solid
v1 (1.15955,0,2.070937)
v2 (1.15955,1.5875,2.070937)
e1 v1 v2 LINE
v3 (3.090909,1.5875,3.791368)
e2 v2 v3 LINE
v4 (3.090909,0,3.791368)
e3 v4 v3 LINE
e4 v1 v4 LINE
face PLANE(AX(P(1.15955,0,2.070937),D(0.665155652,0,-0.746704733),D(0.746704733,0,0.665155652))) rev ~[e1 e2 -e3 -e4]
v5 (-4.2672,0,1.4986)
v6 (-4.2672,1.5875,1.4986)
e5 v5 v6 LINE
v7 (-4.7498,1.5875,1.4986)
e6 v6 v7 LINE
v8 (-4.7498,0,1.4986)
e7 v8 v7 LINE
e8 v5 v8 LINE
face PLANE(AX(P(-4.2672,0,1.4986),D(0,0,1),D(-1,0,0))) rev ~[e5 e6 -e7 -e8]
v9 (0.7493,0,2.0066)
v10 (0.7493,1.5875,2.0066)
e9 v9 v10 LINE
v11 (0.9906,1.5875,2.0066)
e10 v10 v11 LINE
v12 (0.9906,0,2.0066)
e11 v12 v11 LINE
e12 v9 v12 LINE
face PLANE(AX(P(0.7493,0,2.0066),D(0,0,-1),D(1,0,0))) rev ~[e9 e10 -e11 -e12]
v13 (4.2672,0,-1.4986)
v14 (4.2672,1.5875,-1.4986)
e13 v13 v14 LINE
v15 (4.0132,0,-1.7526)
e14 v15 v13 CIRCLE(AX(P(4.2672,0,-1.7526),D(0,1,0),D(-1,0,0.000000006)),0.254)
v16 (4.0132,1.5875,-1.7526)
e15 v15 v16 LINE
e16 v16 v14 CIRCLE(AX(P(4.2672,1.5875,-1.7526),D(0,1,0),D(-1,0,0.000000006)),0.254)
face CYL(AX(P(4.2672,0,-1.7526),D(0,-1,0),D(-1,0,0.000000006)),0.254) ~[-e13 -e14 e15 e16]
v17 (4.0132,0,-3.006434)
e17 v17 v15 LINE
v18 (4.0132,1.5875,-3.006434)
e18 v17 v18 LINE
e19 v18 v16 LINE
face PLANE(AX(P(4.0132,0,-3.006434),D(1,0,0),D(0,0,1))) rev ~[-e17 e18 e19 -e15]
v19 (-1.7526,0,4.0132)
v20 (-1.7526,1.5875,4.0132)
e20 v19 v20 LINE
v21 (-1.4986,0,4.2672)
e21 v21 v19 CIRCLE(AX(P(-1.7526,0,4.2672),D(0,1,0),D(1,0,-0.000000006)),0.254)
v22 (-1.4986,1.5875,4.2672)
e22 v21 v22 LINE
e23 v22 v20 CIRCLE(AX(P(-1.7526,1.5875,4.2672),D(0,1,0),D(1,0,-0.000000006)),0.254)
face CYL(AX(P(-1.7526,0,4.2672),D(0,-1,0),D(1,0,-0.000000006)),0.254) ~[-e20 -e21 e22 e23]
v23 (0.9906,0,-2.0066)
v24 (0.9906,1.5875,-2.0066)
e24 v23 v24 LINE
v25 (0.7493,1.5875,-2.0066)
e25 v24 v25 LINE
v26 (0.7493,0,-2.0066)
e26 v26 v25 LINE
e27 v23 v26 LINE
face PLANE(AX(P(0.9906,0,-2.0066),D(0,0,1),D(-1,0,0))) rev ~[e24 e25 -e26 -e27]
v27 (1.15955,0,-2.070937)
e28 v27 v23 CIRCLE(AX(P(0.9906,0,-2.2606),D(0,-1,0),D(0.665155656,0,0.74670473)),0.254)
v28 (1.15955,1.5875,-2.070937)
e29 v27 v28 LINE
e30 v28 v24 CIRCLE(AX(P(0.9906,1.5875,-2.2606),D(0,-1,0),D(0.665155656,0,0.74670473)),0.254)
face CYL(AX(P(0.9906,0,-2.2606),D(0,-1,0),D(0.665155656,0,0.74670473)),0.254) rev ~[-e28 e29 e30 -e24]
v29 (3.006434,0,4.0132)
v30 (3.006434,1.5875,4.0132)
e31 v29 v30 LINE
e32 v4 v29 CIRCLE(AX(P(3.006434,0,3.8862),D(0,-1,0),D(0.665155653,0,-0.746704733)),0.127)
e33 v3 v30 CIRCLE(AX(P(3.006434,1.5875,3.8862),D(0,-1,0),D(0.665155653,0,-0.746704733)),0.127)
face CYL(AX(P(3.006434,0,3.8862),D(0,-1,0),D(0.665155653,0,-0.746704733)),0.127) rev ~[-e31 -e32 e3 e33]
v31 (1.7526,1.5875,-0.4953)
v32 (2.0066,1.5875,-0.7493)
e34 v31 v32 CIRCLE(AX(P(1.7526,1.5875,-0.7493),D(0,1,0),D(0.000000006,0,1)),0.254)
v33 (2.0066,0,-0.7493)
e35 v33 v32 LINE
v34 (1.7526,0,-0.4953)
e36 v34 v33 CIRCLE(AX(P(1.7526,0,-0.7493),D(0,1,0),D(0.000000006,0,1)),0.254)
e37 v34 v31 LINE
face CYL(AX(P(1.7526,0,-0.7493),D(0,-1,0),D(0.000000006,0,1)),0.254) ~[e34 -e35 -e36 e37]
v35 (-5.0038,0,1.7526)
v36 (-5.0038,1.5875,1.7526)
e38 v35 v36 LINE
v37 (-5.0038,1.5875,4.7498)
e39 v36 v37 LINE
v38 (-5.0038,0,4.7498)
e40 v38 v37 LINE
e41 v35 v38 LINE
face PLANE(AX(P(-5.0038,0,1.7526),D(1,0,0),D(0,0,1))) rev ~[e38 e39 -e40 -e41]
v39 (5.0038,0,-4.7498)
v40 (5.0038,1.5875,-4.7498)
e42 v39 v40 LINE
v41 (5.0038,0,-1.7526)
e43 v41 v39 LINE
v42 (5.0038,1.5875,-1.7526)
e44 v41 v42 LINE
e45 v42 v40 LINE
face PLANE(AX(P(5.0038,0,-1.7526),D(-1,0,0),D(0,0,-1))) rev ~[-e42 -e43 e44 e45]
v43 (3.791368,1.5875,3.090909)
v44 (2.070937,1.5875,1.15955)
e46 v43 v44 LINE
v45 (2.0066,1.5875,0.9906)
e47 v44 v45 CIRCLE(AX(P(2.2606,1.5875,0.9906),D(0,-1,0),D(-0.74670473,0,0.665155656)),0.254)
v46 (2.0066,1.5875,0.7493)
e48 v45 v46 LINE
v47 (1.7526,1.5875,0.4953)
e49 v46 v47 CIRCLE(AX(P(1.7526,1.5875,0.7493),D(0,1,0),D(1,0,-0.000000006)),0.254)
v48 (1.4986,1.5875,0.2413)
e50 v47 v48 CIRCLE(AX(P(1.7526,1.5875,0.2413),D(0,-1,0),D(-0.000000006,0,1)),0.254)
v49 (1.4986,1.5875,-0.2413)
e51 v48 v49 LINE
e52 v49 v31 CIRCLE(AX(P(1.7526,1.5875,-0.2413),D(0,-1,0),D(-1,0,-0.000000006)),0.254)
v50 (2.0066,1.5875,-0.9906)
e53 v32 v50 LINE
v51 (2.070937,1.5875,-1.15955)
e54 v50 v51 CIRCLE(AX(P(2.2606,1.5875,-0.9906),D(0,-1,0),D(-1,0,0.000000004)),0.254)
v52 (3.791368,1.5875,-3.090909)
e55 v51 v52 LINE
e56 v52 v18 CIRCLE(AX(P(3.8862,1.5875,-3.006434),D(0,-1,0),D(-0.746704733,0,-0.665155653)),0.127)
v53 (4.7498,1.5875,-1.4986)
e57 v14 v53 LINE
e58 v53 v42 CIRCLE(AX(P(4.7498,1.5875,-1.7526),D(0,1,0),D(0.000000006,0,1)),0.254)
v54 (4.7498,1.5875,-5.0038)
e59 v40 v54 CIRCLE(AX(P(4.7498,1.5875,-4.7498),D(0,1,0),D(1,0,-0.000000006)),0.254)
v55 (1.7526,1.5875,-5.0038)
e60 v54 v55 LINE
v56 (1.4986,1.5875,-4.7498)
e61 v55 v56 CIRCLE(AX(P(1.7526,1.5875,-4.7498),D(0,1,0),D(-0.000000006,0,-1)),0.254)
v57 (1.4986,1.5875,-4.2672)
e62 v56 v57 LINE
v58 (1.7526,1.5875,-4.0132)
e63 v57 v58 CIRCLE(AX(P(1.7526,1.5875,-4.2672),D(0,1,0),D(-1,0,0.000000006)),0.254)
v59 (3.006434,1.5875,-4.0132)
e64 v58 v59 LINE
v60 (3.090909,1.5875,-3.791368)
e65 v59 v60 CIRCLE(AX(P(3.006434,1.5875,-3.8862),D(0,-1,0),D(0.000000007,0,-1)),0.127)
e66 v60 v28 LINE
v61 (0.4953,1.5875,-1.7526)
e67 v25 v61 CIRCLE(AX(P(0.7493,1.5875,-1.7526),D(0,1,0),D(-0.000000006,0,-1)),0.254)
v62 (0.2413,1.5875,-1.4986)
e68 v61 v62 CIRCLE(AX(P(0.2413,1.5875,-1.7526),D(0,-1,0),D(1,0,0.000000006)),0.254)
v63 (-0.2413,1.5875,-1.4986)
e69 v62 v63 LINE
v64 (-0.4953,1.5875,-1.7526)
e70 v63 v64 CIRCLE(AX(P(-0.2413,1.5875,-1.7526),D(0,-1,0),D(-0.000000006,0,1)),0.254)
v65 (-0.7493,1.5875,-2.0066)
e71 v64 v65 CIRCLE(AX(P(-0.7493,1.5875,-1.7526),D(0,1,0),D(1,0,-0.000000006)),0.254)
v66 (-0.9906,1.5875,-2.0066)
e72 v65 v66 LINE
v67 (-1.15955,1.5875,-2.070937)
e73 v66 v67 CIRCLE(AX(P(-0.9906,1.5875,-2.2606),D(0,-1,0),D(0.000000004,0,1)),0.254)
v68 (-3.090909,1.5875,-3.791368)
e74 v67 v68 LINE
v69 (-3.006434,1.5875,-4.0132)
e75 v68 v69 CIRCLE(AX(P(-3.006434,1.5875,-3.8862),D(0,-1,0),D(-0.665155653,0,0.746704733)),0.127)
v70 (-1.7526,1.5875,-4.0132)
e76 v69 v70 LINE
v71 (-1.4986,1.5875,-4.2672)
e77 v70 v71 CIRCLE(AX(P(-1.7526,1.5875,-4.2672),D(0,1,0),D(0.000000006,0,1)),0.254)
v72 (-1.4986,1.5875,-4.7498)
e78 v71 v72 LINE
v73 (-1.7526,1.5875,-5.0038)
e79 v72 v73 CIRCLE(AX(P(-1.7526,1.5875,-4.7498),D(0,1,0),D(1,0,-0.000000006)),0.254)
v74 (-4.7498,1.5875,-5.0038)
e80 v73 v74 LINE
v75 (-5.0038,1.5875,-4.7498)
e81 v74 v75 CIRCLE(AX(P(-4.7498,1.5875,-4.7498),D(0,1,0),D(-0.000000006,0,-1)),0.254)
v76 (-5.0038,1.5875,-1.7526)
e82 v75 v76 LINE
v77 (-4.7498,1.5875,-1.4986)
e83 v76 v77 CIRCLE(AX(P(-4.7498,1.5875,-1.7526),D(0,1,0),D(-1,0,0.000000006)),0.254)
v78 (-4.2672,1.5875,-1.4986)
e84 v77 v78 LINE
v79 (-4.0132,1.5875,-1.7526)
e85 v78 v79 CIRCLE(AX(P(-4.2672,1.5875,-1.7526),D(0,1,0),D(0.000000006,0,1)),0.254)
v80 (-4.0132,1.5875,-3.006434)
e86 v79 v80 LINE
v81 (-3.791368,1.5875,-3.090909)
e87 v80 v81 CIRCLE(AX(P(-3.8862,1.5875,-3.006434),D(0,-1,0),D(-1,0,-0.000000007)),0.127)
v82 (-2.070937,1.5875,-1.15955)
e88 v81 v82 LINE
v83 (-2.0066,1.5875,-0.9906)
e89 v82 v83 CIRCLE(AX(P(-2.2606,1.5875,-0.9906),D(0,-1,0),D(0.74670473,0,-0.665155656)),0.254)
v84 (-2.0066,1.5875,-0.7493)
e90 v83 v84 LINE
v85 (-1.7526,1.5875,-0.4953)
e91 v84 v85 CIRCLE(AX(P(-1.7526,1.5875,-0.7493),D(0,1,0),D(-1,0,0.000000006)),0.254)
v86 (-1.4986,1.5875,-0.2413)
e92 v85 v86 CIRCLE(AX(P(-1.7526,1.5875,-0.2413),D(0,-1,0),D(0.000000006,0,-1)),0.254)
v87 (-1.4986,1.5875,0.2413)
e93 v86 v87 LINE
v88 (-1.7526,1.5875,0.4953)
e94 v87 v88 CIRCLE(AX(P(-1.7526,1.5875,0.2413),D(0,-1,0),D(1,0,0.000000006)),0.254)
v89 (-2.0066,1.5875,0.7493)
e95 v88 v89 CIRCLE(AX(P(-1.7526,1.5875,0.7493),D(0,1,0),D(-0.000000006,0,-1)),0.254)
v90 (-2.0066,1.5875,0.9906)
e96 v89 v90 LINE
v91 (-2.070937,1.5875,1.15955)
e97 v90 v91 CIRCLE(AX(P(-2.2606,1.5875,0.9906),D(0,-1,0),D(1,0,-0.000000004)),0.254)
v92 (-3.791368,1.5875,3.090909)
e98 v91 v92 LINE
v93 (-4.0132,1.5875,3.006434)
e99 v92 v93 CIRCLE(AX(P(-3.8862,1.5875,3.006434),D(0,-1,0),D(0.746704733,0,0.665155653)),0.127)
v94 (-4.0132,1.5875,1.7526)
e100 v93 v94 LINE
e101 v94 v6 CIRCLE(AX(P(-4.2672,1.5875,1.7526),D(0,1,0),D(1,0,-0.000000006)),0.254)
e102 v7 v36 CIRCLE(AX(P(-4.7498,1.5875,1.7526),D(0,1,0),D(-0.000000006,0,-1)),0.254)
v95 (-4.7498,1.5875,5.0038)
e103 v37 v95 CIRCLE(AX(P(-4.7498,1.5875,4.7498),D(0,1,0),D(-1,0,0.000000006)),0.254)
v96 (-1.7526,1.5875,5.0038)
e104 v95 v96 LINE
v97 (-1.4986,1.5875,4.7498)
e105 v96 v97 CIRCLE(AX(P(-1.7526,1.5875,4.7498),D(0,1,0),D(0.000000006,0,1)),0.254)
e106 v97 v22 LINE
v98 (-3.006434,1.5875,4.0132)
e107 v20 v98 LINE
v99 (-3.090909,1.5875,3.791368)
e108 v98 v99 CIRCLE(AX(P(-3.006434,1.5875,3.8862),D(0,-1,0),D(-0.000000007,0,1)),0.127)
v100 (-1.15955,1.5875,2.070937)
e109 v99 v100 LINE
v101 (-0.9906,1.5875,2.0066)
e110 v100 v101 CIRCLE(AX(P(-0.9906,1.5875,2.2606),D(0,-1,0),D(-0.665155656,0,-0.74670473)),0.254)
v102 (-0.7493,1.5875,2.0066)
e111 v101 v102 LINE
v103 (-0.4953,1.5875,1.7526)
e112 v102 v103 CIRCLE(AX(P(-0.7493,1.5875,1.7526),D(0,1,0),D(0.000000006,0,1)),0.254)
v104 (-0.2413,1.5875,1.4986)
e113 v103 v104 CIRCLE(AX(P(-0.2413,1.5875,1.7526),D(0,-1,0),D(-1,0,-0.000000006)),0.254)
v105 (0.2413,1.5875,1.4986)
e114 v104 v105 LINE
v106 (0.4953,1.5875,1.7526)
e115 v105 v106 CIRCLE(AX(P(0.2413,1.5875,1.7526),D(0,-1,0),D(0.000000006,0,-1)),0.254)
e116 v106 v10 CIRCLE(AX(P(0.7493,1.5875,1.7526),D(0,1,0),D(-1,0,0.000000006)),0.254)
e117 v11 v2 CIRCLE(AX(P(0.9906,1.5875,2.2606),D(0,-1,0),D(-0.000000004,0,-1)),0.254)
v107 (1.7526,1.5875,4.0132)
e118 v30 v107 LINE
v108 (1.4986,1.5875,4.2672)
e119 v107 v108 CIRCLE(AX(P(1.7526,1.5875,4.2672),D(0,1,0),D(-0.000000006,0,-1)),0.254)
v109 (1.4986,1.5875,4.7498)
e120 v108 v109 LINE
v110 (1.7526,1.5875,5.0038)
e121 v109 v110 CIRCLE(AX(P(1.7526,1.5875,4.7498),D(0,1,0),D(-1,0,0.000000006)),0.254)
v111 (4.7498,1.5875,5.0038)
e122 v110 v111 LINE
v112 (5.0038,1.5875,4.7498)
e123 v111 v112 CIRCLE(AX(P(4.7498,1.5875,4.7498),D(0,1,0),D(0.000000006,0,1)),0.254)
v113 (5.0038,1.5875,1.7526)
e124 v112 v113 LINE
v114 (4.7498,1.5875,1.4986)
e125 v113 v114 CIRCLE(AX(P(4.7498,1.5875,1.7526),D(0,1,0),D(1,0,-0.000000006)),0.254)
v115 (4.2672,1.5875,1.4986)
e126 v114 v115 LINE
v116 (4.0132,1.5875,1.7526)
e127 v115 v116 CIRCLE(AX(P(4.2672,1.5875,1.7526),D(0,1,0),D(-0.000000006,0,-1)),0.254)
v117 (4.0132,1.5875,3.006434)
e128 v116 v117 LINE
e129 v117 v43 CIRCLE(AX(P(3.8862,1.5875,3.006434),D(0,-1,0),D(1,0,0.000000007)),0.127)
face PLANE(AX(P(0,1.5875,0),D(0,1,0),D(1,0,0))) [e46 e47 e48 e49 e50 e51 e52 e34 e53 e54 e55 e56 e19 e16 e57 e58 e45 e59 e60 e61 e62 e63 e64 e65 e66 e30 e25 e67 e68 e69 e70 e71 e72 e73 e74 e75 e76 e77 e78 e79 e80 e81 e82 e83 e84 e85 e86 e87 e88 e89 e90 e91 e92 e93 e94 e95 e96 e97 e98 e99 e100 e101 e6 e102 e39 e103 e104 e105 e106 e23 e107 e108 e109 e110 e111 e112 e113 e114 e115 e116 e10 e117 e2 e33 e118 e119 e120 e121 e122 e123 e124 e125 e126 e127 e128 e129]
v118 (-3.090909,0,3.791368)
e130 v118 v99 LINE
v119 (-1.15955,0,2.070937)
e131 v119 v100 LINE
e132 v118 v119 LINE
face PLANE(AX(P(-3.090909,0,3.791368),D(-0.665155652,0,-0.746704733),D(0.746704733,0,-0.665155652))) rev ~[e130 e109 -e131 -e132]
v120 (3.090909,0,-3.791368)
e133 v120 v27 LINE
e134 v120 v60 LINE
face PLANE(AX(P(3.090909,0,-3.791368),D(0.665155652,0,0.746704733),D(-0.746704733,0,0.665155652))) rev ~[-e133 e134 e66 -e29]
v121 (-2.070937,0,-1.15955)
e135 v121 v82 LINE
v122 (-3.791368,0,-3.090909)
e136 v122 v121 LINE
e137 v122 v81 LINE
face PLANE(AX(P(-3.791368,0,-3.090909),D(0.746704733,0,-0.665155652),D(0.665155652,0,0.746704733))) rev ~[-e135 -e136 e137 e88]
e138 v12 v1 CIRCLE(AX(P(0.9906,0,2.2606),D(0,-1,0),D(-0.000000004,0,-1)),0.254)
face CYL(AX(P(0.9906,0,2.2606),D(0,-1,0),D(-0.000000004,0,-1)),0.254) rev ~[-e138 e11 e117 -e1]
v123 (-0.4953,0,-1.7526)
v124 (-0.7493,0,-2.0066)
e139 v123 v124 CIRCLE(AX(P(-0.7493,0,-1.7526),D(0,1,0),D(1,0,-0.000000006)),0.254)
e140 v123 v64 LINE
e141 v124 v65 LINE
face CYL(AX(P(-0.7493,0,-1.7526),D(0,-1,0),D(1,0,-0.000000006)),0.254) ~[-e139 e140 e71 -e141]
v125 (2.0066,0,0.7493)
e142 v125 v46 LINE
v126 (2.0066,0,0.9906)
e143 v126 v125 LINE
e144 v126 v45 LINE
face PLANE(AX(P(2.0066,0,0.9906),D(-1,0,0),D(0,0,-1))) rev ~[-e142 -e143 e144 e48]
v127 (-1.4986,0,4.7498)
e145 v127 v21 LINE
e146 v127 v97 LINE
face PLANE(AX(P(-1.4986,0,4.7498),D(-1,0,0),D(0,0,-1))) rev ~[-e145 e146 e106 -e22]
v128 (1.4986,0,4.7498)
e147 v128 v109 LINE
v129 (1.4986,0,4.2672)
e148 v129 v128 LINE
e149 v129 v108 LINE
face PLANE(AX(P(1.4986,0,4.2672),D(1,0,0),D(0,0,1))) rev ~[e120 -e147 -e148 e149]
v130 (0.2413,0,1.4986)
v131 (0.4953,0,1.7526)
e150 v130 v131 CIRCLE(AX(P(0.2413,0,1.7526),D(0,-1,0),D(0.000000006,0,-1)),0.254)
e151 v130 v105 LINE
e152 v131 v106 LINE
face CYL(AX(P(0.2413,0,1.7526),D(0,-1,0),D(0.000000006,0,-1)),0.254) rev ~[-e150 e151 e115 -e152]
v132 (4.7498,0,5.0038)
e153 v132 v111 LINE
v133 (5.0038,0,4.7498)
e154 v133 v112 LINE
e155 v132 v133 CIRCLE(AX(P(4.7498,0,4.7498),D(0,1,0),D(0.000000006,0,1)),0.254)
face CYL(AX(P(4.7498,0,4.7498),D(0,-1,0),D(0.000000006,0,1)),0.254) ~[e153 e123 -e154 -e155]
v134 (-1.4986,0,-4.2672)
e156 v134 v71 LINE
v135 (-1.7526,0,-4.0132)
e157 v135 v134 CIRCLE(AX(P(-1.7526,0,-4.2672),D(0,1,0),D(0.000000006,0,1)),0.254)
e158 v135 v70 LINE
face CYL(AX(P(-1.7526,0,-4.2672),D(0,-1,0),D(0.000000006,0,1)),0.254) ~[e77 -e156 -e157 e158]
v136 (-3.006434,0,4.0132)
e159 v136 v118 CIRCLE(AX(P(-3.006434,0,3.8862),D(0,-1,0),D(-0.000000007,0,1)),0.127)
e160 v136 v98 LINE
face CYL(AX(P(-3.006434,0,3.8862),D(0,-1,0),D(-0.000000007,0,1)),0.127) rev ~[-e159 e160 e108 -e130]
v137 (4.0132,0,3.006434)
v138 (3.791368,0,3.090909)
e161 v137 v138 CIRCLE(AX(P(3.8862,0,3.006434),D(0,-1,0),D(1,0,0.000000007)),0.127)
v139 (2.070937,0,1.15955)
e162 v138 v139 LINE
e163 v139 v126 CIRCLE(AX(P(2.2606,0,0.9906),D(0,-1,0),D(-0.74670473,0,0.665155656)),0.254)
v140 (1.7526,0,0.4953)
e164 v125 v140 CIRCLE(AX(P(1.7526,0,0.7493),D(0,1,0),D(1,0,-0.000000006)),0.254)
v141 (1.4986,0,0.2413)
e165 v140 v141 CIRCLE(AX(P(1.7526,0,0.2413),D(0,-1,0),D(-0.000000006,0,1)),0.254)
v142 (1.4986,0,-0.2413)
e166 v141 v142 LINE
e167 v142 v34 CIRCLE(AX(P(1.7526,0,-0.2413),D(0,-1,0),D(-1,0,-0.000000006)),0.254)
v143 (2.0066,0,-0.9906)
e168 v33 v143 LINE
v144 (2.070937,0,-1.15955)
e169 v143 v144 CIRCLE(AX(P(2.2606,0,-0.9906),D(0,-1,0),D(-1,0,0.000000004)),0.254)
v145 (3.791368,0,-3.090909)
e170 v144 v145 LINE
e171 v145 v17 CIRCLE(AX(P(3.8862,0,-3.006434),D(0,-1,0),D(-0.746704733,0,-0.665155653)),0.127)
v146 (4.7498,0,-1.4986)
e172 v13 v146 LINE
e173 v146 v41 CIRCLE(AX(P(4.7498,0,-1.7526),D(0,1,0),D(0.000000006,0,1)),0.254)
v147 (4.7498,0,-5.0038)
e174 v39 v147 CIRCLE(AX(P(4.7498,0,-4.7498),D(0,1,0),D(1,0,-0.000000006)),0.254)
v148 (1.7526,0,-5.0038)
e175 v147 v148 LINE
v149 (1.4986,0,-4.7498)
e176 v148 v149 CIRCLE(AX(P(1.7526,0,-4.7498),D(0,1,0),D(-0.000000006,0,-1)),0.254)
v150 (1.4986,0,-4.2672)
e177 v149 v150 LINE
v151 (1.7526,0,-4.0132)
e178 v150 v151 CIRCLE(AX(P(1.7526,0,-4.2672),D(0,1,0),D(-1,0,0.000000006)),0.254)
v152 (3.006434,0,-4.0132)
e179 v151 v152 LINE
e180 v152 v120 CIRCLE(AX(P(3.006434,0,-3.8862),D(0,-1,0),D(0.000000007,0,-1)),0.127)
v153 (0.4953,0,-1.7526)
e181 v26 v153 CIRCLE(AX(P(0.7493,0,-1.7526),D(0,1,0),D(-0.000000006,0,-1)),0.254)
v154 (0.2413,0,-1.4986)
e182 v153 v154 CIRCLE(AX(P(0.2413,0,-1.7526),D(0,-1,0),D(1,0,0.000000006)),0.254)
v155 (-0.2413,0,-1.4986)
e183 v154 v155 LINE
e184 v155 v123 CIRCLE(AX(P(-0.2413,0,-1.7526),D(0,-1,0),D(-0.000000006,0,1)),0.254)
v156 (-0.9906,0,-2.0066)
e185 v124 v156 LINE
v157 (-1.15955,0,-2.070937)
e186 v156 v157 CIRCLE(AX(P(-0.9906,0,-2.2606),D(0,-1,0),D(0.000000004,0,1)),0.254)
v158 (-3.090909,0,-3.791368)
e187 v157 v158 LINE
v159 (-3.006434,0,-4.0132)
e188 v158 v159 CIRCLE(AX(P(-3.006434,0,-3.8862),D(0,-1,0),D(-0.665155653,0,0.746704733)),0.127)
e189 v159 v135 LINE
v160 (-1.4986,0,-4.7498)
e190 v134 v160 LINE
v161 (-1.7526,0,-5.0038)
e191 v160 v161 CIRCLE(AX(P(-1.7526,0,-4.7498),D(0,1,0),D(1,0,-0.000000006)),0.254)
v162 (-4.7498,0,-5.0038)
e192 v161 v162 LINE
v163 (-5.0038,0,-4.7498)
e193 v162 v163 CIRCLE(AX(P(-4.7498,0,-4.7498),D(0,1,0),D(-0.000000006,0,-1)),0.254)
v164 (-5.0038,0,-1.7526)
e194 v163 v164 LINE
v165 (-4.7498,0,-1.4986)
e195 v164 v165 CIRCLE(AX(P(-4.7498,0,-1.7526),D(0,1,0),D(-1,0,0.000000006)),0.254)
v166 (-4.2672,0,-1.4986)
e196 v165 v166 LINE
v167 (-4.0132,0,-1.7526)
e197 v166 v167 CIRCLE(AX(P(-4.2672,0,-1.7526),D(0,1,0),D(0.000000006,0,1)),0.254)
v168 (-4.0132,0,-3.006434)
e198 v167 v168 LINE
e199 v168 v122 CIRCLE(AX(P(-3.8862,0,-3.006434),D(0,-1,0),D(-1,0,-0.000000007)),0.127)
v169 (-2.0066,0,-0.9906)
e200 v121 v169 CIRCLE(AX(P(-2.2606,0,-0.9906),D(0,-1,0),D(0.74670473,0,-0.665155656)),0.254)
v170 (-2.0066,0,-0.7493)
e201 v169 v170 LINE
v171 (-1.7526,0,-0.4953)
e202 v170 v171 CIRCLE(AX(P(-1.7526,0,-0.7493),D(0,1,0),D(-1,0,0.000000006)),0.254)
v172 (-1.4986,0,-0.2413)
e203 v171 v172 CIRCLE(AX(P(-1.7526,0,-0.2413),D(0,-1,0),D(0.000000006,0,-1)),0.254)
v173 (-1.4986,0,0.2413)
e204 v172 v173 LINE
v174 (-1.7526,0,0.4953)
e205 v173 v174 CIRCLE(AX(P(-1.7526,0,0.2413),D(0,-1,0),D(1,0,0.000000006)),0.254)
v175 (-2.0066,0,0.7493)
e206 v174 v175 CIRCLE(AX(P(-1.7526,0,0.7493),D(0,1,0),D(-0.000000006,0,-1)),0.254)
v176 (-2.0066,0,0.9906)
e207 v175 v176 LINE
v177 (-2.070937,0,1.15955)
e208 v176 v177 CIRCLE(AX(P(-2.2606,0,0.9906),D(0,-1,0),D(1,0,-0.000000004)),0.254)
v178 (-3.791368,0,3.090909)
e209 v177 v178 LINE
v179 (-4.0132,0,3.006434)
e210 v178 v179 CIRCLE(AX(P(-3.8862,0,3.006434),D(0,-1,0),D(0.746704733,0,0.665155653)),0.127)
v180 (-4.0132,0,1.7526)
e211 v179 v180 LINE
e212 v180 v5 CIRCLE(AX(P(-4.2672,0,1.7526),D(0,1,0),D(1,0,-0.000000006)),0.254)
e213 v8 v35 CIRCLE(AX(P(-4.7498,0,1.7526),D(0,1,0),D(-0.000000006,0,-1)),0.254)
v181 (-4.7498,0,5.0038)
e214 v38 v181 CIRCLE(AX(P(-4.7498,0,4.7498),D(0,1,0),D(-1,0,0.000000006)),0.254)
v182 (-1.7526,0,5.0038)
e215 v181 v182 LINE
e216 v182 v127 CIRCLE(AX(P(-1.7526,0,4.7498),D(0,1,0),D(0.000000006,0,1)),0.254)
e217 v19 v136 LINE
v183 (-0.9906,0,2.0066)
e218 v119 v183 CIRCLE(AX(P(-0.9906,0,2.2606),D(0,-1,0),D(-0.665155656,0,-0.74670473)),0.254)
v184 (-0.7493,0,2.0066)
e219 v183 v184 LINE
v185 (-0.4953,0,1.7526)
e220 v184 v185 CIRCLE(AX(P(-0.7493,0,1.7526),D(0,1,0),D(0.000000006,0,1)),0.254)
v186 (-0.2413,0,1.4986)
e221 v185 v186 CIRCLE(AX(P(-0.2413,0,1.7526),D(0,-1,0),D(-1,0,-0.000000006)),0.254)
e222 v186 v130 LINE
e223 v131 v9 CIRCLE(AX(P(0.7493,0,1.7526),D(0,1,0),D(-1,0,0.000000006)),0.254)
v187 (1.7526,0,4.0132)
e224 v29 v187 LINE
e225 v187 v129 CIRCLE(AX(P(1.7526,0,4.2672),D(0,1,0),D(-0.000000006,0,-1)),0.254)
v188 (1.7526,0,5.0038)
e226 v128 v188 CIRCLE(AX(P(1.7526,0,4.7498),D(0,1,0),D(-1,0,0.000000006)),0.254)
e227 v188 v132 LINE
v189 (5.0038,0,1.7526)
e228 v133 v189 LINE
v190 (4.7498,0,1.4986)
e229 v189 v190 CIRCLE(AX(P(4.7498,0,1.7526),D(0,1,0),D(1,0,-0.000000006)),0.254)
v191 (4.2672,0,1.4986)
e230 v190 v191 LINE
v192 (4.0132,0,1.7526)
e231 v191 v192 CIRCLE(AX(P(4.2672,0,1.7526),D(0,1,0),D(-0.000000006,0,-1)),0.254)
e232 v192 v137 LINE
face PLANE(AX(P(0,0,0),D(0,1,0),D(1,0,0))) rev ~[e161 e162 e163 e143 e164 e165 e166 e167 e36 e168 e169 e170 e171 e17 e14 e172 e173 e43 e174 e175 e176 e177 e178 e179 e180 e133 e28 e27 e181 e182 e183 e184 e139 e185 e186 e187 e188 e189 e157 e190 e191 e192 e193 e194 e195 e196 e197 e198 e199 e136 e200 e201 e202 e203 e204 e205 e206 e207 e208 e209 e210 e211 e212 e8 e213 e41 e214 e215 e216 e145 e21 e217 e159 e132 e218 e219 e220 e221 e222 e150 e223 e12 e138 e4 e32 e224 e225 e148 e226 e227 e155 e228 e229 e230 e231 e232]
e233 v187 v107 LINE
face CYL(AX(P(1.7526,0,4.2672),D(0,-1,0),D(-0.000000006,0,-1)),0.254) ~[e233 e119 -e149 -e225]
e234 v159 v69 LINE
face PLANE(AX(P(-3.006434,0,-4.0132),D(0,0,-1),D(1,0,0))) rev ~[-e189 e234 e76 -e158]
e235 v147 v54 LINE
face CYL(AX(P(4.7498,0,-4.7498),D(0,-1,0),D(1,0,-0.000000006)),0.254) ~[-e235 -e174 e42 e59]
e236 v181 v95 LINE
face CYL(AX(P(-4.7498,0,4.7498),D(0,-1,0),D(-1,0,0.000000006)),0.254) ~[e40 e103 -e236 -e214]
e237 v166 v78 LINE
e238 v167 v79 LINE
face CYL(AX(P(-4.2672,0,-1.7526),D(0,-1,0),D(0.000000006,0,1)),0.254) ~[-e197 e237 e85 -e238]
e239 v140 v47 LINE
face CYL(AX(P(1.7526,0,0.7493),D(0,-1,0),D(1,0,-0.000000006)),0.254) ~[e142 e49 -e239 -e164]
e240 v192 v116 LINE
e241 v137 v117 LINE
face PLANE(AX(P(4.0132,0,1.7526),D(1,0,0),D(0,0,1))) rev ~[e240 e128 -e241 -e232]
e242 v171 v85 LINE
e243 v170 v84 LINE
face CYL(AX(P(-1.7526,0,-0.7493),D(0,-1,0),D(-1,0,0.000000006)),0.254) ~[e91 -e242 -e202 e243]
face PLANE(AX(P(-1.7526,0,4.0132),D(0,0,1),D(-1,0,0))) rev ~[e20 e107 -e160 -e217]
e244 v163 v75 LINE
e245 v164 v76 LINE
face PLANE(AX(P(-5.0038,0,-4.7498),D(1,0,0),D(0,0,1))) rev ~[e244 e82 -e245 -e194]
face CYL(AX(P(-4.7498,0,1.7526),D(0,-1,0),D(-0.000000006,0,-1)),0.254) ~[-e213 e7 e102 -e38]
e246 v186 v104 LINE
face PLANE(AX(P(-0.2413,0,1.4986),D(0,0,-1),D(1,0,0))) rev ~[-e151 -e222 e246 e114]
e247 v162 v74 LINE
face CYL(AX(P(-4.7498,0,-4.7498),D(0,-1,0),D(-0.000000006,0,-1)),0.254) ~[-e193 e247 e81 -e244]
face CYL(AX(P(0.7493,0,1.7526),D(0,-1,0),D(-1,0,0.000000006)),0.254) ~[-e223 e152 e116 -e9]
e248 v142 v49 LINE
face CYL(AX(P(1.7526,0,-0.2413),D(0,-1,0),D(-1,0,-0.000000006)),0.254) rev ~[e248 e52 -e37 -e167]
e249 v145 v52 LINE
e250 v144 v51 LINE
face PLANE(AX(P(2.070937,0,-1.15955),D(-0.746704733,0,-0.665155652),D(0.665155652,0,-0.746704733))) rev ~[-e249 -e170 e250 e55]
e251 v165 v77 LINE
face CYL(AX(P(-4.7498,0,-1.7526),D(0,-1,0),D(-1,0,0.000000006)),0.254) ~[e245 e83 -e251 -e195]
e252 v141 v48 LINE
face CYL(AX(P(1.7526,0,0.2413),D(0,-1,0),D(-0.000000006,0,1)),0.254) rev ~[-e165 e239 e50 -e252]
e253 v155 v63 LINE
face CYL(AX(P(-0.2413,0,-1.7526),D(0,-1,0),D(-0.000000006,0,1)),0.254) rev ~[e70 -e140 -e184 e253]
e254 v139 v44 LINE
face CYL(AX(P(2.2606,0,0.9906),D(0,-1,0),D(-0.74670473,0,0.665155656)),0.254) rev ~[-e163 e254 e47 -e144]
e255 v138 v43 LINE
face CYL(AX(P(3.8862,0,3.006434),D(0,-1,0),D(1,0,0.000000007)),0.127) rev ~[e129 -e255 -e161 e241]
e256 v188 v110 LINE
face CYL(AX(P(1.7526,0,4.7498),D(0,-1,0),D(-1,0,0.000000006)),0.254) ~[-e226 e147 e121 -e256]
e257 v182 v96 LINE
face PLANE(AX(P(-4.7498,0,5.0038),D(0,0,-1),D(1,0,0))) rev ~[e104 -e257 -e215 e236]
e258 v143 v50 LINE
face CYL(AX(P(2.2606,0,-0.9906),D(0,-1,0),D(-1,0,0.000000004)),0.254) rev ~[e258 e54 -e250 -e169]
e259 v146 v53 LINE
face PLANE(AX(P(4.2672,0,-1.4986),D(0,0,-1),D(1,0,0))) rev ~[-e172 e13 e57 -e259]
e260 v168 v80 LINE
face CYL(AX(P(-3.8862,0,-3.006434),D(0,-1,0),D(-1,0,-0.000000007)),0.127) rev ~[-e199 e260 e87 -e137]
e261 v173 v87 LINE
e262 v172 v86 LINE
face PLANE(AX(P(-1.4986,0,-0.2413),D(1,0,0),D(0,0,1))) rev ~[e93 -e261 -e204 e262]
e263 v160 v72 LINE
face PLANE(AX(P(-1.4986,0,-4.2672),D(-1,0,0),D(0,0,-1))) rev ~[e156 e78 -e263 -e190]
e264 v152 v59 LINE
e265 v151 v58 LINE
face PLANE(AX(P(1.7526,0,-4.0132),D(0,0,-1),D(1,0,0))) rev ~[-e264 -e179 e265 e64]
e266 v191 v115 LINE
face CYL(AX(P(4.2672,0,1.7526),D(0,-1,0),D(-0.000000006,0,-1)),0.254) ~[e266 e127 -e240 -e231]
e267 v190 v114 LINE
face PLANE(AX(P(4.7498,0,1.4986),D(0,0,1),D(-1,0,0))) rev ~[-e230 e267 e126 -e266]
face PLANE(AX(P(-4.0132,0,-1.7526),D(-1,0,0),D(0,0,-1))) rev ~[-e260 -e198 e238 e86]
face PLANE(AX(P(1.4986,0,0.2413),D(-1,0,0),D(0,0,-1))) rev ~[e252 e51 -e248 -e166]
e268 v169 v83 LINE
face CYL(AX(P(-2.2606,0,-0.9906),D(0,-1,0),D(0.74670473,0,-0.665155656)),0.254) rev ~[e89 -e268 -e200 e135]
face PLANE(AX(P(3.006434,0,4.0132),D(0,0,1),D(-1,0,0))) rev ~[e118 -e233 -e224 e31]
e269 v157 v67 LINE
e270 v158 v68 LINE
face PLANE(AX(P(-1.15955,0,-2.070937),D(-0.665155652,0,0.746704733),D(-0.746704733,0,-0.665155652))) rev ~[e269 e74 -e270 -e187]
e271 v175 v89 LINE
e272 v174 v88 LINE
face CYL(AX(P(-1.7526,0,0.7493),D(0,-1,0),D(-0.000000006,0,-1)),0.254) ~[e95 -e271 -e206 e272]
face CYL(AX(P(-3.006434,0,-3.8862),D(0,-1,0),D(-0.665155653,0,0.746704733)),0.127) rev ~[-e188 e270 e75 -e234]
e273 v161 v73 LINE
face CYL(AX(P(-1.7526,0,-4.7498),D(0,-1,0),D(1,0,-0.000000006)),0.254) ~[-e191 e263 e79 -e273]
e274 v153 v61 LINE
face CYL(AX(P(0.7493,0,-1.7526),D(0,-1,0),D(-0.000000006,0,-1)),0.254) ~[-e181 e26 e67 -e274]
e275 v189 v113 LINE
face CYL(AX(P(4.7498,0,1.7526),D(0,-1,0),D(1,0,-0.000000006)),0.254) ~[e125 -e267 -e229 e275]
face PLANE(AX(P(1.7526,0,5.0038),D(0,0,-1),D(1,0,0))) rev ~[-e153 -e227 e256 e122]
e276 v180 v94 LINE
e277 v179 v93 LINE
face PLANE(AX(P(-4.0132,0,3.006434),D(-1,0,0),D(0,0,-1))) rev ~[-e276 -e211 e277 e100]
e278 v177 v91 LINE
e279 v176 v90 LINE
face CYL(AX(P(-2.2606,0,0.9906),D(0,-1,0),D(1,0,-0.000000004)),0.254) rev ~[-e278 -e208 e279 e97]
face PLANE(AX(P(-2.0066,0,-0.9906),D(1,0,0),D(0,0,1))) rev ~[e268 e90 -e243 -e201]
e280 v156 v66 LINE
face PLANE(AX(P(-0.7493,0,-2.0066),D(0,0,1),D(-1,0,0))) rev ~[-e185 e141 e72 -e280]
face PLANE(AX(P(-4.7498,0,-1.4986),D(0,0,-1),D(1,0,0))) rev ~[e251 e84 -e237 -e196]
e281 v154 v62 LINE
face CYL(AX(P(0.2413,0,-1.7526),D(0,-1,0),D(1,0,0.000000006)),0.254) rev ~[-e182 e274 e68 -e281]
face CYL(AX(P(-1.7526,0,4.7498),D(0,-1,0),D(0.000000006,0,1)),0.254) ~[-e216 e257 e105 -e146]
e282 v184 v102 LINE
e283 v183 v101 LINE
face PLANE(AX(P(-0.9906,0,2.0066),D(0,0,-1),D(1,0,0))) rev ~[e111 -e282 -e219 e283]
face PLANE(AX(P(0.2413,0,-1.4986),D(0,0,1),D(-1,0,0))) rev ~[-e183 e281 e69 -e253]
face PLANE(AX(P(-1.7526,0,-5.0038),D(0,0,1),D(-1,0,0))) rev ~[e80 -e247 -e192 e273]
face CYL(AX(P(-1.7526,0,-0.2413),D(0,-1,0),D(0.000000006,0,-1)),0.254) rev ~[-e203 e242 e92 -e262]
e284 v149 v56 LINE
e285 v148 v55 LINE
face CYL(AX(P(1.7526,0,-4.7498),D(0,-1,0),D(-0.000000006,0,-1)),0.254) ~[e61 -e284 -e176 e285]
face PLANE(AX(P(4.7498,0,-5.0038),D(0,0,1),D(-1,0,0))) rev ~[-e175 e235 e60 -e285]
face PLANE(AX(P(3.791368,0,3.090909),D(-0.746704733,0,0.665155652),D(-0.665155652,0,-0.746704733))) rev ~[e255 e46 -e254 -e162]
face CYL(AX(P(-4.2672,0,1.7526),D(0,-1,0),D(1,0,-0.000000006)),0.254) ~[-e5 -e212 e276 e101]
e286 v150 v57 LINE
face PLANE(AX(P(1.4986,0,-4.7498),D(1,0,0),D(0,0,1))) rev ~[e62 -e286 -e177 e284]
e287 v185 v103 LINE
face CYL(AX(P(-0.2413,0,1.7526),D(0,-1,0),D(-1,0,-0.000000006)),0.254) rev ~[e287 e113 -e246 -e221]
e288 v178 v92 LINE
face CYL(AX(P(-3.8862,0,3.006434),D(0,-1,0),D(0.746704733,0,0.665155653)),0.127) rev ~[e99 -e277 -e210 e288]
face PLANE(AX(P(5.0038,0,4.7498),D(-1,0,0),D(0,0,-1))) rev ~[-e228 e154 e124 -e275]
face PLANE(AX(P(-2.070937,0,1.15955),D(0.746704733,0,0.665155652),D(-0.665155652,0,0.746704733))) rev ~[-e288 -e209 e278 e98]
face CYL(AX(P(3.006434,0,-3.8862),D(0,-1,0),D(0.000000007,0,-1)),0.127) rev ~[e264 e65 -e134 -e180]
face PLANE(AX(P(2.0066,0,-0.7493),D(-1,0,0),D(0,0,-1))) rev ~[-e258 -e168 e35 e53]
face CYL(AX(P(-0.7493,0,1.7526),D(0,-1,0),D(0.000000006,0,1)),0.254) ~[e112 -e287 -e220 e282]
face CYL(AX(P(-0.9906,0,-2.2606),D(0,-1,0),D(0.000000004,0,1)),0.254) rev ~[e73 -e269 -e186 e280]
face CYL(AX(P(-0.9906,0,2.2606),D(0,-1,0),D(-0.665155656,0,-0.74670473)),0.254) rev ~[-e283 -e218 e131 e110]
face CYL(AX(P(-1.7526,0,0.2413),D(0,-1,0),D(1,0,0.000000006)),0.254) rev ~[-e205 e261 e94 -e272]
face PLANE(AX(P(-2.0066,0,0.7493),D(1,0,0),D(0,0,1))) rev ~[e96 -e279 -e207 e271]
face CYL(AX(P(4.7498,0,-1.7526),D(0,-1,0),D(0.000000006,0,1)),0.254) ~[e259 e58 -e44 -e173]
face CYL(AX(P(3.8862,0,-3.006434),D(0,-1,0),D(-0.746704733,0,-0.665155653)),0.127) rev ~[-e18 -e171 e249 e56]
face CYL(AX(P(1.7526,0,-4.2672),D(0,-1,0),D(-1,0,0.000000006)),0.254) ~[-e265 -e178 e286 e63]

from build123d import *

# Parameters (mm, degrees)
BOSS_EXTRUDE1_DEPTH = 1.5875


with BuildPart() as part:
    # Sketch1 → Boss-Extrude1 (new body)
    with BuildSketch(Plane(origin=(0, 0, 0), x_dir=(1, 0, 0), z_dir=(0, 1, 0))):
        with BuildLine():
            Line((-1.159549536, 2.070936998), (-3.090908521, 3.791368499))
            ThreePointArc((-3.090908521, 3.791368499), (-3.125119474, 3.931396235), (-3.006433754, 4.0132))
            Line((-3.006433754, 4.0132), (-1.7526, 4.0132))
            ThreePointArc((-1.7526, 4.0132), (-1.572994878, 4.087594878), (-1.4986, 4.2672))
            Line((-1.4986, 4.2672), (-1.4986, 4.7498))
            ThreePointArc((-1.4986, 4.7498), (-1.572994878, 4.929405122), (-1.7526, 5.0038))
            Line((-1.7526, 5.0038), (-4.7498, 5.0038))
            ThreePointArc((-4.7498, 5.0038), (-4.929405122, 4.929405122), (-5.0038, 4.7498))
            Line((-5.0038, 4.7498), (-5.0038, 1.7526))
            ThreePointArc((-5.0038, 1.7526), (-4.929405122, 1.572994878), (-4.7498, 1.4986))
            Line((-4.7498, 1.4986), (-4.2672, 1.4986))
            ThreePointArc((-4.2672, 1.4986), (-4.087594878, 1.572994878), (-4.0132, 1.7526))
            Line((-4.0132, 1.7526), (-4.0132, 3.006433754))
            ThreePointArc((-4.0132, 3.006433754), (-3.931396235, 3.125119474), (-3.791368499, 3.090908521))
            Line((-3.791368499, 3.090908521), (-2.070936998, 1.159549536))
            ThreePointArc((-2.070936998, 1.159549536), (-2.023228558, 1.08099247), (-2.0066, 0.9906))
            Line((-2.0066, 0.9906), (-2.0066, 0.7493))
            ThreePointArc((-2.0066, 0.7493), (-1.932205122, 0.569694878), (-1.7526, 0.4953))
            ThreePointArc((-1.7526, 0.4953), (-1.572994878, 0.420905122), (-1.4986, 0.2413))
            Line((-1.4986, 0.2413), (-1.4986, -0.2413))
            ThreePointArc((-1.4986, -0.2413), (-1.572994878, -0.420905122), (-1.7526, -0.4953))
            ThreePointArc((-1.7526, -0.4953), (-1.932205122, -0.569694878), (-2.0066, -0.7493))
            Line((-2.0066, -0.7493), (-2.0066, -0.9906))
            ThreePointArc((-2.0066, -0.9906), (-2.023228558, -1.08099247), (-2.070936998, -1.159549536))
            Line((-2.070936998, -1.159549536), (-3.791368499, -3.090908521))
            ThreePointArc((-3.791368499, -3.090908521), (-3.931396235, -3.125119474), (-4.0132, -3.006433754))
            Line((-4.0132, -3.006433754), (-4.0132, -1.7526))
            ThreePointArc((-4.0132, -1.7526), (-4.087594878, -1.572994878), (-4.2672, -1.4986))
            Line((-4.2672, -1.4986), (-4.7498, -1.4986))
            ThreePointArc((-4.7498, -1.4986), (-4.929405122, -1.572994878), (-5.0038, -1.7526))
            Line((-5.0038, -1.7526), (-5.0038, -4.7498))
            ThreePointArc((-5.0038, -4.7498), (-4.929405122, -4.929405122), (-4.7498, -5.0038))
            Line((-4.7498, -5.0038), (-1.7526, -5.0038))
            ThreePointArc((-1.7526, -5.0038), (-1.572994878, -4.929405122), (-1.4986, -4.7498))
            Line((-1.4986, -4.7498), (-1.4986, -4.2672))
            ThreePointArc((-1.4986, -4.2672), (-1.572994878, -4.087594878), (-1.7526, -4.0132))
            Line((-1.7526, -4.0132), (-3.006433754, -4.0132))
            ThreePointArc((-3.006433754, -4.0132), (-3.125119474, -3.931396235), (-3.090908521, -3.791368499))
            Line((-3.090908521, -3.791368499), (-1.159549536, -2.070936998))
            ThreePointArc((-1.159549536, -2.070936998), (-1.08099247, -2.023228558), (-0.9906, -2.0066))
            Line((-0.9906, -2.0066), (-0.7493, -2.0066))
            ThreePointArc((-0.7493, -2.0066), (-0.569694878, -1.932205122), (-0.4953, -1.7526))
            ThreePointArc((-0.4953, -1.7526), (-0.420905122, -1.572994878), (-0.2413, -1.4986))
            Line((-0.2413, -1.4986), (0.2413, -1.4986))
            ThreePointArc((0.2413, -1.4986), (0.420905122, -1.572994878), (0.4953, -1.7526))
            ThreePointArc((0.4953, -1.7526), (0.569694878, -1.932205122), (0.7493, -2.0066))
            Line((0.7493, -2.0066), (0.9906, -2.0066))
            ThreePointArc((0.9906, -2.0066), (1.08099247, -2.023228558), (1.159549536, -2.070936998))
            Line((1.159549536, -2.070936998), (3.090908521, -3.791368499))
            ThreePointArc((3.090908521, -3.791368499), (3.125119474, -3.931396235), (3.006433754, -4.0132))
            Line((3.006433754, -4.0132), (1.7526, -4.0132))
            ThreePointArc((1.7526, -4.0132), (1.572994878, -4.087594878), (1.4986, -4.2672))
            Line((1.4986, -4.2672), (1.4986, -4.7498))
            ThreePointArc((1.4986, -4.7498), (1.572994878, -4.929405122), (1.7526, -5.0038))
            Line((1.7526, -5.0038), (4.7498, -5.0038))
            ThreePointArc((4.7498, -5.0038), (4.929405122, -4.929405122), (5.0038, -4.7498))
            Line((5.0038, -4.7498), (5.0038, -1.7526))
            ThreePointArc((5.0038, -1.7526), (4.929405122, -1.572994878), (4.7498, -1.4986))
            Line((4.7498, -1.4986), (4.2672, -1.4986))
            ThreePointArc((4.2672, -1.4986), (4.087594878, -1.572994878), (4.0132, -1.7526))
            Line((4.0132, -1.7526), (4.0132, -3.006433754))
            ThreePointArc((4.0132, -3.006433754), (3.931396235, -3.125119474), (3.791368499, -3.090908521))
            Line((3.791368499, -3.090908521), (2.070936998, -1.159549536))
            ThreePointArc((2.070936998, -1.159549536), (2.023228558, -1.08099247), (2.0066, -0.9906))
            Line((2.0066, -0.9906), (2.0066, -0.7493))
            ThreePointArc((2.0066, -0.7493), (1.932205122, -0.569694878), (1.7526, -0.4953))
            ThreePointArc((1.7526, -0.4953), (1.572994878, -0.420905122), (1.4986, -0.2413))
            Line((1.4986, -0.2413), (1.4986, 0.2413))
            ThreePointArc((1.4986, 0.2413), (1.572994878, 0.420905122), (1.7526, 0.4953))
            ThreePointArc((1.7526, 0.4953), (1.932205122, 0.569694878), (2.0066, 0.7493))
            Line((2.0066, 0.7493), (2.0066, 0.9906))
            ThreePointArc((2.0066, 0.9906), (2.023228558, 1.08099247), (2.070936998, 1.159549536))
            Line((2.070936998, 1.159549536), (3.791368499, 3.090908521))
            ThreePointArc((3.791368499, 3.090908521), (3.931396235, 3.125119474), (4.0132, 3.006433754))
            Line((4.0132, 3.006433754), (4.0132, 1.7526))
            ThreePointArc((4.0132, 1.7526), (4.087594878, 1.572994878), (4.2672, 1.4986))
            Line((4.2672, 1.4986), (4.7498, 1.4986))
            ThreePointArc((4.7498, 1.4986), (4.929405122, 1.572994878), (5.0038, 1.7526))
            Line((5.0038, 1.7526), (5.0038, 4.7498))
            ThreePointArc((5.0038, 4.7498), (4.929405122, 4.929405122), (4.7498, 5.0038))
            Line((4.7498, 5.0038), (1.7526, 5.0038))
            ThreePointArc((1.7526, 5.0038), (1.572994878, 4.929405122), (1.4986, 4.7498))
            Line((1.4986, 4.7498), (1.4986, 4.2672))
            ThreePointArc((1.4986, 4.2672), (1.572994878, 4.087594878), (1.7526, 4.0132))
            Line((1.7526, 4.0132), (3.006433754, 4.0132))
            ThreePointArc((3.006433754, 4.0132), (3.125119474, 3.931396235), (3.090908521, 3.791368499))
            Line((3.090908521, 3.791368499), (1.159549536, 2.070936998))
            ThreePointArc((1.159549536, 2.070936998), (1.08099247, 2.023228558), (0.9906, 2.0066))
            Line((0.9906, 2.0066), (0.7493, 2.0066))
            ThreePointArc((0.7493, 2.0066), (0.569694878, 1.932205122), (0.4953, 1.7526))
            ThreePointArc((0.4953, 1.7526), (0.420905122, 1.572994878), (0.2413, 1.4986))
            Line((0.2413, 1.4986), (-0.2413, 1.4986))
            ThreePointArc((-0.2413, 1.4986), (-0.420905122, 1.572994878), (-0.4953, 1.7526))
            ThreePointArc((-0.4953, 1.7526), (-0.569694878, 1.932205122), (-0.7493, 2.0066))
            Line((-0.7493, 2.0066), (-0.9906, 2.0066))
            ThreePointArc((-0.9906, 2.0066), (-1.08099247, 2.023228558), (-1.159549536, 2.070936998))
        make_face()
    extrude(amount=BOSS_EXTRUDE1_DEPTH)


solid = part.part
